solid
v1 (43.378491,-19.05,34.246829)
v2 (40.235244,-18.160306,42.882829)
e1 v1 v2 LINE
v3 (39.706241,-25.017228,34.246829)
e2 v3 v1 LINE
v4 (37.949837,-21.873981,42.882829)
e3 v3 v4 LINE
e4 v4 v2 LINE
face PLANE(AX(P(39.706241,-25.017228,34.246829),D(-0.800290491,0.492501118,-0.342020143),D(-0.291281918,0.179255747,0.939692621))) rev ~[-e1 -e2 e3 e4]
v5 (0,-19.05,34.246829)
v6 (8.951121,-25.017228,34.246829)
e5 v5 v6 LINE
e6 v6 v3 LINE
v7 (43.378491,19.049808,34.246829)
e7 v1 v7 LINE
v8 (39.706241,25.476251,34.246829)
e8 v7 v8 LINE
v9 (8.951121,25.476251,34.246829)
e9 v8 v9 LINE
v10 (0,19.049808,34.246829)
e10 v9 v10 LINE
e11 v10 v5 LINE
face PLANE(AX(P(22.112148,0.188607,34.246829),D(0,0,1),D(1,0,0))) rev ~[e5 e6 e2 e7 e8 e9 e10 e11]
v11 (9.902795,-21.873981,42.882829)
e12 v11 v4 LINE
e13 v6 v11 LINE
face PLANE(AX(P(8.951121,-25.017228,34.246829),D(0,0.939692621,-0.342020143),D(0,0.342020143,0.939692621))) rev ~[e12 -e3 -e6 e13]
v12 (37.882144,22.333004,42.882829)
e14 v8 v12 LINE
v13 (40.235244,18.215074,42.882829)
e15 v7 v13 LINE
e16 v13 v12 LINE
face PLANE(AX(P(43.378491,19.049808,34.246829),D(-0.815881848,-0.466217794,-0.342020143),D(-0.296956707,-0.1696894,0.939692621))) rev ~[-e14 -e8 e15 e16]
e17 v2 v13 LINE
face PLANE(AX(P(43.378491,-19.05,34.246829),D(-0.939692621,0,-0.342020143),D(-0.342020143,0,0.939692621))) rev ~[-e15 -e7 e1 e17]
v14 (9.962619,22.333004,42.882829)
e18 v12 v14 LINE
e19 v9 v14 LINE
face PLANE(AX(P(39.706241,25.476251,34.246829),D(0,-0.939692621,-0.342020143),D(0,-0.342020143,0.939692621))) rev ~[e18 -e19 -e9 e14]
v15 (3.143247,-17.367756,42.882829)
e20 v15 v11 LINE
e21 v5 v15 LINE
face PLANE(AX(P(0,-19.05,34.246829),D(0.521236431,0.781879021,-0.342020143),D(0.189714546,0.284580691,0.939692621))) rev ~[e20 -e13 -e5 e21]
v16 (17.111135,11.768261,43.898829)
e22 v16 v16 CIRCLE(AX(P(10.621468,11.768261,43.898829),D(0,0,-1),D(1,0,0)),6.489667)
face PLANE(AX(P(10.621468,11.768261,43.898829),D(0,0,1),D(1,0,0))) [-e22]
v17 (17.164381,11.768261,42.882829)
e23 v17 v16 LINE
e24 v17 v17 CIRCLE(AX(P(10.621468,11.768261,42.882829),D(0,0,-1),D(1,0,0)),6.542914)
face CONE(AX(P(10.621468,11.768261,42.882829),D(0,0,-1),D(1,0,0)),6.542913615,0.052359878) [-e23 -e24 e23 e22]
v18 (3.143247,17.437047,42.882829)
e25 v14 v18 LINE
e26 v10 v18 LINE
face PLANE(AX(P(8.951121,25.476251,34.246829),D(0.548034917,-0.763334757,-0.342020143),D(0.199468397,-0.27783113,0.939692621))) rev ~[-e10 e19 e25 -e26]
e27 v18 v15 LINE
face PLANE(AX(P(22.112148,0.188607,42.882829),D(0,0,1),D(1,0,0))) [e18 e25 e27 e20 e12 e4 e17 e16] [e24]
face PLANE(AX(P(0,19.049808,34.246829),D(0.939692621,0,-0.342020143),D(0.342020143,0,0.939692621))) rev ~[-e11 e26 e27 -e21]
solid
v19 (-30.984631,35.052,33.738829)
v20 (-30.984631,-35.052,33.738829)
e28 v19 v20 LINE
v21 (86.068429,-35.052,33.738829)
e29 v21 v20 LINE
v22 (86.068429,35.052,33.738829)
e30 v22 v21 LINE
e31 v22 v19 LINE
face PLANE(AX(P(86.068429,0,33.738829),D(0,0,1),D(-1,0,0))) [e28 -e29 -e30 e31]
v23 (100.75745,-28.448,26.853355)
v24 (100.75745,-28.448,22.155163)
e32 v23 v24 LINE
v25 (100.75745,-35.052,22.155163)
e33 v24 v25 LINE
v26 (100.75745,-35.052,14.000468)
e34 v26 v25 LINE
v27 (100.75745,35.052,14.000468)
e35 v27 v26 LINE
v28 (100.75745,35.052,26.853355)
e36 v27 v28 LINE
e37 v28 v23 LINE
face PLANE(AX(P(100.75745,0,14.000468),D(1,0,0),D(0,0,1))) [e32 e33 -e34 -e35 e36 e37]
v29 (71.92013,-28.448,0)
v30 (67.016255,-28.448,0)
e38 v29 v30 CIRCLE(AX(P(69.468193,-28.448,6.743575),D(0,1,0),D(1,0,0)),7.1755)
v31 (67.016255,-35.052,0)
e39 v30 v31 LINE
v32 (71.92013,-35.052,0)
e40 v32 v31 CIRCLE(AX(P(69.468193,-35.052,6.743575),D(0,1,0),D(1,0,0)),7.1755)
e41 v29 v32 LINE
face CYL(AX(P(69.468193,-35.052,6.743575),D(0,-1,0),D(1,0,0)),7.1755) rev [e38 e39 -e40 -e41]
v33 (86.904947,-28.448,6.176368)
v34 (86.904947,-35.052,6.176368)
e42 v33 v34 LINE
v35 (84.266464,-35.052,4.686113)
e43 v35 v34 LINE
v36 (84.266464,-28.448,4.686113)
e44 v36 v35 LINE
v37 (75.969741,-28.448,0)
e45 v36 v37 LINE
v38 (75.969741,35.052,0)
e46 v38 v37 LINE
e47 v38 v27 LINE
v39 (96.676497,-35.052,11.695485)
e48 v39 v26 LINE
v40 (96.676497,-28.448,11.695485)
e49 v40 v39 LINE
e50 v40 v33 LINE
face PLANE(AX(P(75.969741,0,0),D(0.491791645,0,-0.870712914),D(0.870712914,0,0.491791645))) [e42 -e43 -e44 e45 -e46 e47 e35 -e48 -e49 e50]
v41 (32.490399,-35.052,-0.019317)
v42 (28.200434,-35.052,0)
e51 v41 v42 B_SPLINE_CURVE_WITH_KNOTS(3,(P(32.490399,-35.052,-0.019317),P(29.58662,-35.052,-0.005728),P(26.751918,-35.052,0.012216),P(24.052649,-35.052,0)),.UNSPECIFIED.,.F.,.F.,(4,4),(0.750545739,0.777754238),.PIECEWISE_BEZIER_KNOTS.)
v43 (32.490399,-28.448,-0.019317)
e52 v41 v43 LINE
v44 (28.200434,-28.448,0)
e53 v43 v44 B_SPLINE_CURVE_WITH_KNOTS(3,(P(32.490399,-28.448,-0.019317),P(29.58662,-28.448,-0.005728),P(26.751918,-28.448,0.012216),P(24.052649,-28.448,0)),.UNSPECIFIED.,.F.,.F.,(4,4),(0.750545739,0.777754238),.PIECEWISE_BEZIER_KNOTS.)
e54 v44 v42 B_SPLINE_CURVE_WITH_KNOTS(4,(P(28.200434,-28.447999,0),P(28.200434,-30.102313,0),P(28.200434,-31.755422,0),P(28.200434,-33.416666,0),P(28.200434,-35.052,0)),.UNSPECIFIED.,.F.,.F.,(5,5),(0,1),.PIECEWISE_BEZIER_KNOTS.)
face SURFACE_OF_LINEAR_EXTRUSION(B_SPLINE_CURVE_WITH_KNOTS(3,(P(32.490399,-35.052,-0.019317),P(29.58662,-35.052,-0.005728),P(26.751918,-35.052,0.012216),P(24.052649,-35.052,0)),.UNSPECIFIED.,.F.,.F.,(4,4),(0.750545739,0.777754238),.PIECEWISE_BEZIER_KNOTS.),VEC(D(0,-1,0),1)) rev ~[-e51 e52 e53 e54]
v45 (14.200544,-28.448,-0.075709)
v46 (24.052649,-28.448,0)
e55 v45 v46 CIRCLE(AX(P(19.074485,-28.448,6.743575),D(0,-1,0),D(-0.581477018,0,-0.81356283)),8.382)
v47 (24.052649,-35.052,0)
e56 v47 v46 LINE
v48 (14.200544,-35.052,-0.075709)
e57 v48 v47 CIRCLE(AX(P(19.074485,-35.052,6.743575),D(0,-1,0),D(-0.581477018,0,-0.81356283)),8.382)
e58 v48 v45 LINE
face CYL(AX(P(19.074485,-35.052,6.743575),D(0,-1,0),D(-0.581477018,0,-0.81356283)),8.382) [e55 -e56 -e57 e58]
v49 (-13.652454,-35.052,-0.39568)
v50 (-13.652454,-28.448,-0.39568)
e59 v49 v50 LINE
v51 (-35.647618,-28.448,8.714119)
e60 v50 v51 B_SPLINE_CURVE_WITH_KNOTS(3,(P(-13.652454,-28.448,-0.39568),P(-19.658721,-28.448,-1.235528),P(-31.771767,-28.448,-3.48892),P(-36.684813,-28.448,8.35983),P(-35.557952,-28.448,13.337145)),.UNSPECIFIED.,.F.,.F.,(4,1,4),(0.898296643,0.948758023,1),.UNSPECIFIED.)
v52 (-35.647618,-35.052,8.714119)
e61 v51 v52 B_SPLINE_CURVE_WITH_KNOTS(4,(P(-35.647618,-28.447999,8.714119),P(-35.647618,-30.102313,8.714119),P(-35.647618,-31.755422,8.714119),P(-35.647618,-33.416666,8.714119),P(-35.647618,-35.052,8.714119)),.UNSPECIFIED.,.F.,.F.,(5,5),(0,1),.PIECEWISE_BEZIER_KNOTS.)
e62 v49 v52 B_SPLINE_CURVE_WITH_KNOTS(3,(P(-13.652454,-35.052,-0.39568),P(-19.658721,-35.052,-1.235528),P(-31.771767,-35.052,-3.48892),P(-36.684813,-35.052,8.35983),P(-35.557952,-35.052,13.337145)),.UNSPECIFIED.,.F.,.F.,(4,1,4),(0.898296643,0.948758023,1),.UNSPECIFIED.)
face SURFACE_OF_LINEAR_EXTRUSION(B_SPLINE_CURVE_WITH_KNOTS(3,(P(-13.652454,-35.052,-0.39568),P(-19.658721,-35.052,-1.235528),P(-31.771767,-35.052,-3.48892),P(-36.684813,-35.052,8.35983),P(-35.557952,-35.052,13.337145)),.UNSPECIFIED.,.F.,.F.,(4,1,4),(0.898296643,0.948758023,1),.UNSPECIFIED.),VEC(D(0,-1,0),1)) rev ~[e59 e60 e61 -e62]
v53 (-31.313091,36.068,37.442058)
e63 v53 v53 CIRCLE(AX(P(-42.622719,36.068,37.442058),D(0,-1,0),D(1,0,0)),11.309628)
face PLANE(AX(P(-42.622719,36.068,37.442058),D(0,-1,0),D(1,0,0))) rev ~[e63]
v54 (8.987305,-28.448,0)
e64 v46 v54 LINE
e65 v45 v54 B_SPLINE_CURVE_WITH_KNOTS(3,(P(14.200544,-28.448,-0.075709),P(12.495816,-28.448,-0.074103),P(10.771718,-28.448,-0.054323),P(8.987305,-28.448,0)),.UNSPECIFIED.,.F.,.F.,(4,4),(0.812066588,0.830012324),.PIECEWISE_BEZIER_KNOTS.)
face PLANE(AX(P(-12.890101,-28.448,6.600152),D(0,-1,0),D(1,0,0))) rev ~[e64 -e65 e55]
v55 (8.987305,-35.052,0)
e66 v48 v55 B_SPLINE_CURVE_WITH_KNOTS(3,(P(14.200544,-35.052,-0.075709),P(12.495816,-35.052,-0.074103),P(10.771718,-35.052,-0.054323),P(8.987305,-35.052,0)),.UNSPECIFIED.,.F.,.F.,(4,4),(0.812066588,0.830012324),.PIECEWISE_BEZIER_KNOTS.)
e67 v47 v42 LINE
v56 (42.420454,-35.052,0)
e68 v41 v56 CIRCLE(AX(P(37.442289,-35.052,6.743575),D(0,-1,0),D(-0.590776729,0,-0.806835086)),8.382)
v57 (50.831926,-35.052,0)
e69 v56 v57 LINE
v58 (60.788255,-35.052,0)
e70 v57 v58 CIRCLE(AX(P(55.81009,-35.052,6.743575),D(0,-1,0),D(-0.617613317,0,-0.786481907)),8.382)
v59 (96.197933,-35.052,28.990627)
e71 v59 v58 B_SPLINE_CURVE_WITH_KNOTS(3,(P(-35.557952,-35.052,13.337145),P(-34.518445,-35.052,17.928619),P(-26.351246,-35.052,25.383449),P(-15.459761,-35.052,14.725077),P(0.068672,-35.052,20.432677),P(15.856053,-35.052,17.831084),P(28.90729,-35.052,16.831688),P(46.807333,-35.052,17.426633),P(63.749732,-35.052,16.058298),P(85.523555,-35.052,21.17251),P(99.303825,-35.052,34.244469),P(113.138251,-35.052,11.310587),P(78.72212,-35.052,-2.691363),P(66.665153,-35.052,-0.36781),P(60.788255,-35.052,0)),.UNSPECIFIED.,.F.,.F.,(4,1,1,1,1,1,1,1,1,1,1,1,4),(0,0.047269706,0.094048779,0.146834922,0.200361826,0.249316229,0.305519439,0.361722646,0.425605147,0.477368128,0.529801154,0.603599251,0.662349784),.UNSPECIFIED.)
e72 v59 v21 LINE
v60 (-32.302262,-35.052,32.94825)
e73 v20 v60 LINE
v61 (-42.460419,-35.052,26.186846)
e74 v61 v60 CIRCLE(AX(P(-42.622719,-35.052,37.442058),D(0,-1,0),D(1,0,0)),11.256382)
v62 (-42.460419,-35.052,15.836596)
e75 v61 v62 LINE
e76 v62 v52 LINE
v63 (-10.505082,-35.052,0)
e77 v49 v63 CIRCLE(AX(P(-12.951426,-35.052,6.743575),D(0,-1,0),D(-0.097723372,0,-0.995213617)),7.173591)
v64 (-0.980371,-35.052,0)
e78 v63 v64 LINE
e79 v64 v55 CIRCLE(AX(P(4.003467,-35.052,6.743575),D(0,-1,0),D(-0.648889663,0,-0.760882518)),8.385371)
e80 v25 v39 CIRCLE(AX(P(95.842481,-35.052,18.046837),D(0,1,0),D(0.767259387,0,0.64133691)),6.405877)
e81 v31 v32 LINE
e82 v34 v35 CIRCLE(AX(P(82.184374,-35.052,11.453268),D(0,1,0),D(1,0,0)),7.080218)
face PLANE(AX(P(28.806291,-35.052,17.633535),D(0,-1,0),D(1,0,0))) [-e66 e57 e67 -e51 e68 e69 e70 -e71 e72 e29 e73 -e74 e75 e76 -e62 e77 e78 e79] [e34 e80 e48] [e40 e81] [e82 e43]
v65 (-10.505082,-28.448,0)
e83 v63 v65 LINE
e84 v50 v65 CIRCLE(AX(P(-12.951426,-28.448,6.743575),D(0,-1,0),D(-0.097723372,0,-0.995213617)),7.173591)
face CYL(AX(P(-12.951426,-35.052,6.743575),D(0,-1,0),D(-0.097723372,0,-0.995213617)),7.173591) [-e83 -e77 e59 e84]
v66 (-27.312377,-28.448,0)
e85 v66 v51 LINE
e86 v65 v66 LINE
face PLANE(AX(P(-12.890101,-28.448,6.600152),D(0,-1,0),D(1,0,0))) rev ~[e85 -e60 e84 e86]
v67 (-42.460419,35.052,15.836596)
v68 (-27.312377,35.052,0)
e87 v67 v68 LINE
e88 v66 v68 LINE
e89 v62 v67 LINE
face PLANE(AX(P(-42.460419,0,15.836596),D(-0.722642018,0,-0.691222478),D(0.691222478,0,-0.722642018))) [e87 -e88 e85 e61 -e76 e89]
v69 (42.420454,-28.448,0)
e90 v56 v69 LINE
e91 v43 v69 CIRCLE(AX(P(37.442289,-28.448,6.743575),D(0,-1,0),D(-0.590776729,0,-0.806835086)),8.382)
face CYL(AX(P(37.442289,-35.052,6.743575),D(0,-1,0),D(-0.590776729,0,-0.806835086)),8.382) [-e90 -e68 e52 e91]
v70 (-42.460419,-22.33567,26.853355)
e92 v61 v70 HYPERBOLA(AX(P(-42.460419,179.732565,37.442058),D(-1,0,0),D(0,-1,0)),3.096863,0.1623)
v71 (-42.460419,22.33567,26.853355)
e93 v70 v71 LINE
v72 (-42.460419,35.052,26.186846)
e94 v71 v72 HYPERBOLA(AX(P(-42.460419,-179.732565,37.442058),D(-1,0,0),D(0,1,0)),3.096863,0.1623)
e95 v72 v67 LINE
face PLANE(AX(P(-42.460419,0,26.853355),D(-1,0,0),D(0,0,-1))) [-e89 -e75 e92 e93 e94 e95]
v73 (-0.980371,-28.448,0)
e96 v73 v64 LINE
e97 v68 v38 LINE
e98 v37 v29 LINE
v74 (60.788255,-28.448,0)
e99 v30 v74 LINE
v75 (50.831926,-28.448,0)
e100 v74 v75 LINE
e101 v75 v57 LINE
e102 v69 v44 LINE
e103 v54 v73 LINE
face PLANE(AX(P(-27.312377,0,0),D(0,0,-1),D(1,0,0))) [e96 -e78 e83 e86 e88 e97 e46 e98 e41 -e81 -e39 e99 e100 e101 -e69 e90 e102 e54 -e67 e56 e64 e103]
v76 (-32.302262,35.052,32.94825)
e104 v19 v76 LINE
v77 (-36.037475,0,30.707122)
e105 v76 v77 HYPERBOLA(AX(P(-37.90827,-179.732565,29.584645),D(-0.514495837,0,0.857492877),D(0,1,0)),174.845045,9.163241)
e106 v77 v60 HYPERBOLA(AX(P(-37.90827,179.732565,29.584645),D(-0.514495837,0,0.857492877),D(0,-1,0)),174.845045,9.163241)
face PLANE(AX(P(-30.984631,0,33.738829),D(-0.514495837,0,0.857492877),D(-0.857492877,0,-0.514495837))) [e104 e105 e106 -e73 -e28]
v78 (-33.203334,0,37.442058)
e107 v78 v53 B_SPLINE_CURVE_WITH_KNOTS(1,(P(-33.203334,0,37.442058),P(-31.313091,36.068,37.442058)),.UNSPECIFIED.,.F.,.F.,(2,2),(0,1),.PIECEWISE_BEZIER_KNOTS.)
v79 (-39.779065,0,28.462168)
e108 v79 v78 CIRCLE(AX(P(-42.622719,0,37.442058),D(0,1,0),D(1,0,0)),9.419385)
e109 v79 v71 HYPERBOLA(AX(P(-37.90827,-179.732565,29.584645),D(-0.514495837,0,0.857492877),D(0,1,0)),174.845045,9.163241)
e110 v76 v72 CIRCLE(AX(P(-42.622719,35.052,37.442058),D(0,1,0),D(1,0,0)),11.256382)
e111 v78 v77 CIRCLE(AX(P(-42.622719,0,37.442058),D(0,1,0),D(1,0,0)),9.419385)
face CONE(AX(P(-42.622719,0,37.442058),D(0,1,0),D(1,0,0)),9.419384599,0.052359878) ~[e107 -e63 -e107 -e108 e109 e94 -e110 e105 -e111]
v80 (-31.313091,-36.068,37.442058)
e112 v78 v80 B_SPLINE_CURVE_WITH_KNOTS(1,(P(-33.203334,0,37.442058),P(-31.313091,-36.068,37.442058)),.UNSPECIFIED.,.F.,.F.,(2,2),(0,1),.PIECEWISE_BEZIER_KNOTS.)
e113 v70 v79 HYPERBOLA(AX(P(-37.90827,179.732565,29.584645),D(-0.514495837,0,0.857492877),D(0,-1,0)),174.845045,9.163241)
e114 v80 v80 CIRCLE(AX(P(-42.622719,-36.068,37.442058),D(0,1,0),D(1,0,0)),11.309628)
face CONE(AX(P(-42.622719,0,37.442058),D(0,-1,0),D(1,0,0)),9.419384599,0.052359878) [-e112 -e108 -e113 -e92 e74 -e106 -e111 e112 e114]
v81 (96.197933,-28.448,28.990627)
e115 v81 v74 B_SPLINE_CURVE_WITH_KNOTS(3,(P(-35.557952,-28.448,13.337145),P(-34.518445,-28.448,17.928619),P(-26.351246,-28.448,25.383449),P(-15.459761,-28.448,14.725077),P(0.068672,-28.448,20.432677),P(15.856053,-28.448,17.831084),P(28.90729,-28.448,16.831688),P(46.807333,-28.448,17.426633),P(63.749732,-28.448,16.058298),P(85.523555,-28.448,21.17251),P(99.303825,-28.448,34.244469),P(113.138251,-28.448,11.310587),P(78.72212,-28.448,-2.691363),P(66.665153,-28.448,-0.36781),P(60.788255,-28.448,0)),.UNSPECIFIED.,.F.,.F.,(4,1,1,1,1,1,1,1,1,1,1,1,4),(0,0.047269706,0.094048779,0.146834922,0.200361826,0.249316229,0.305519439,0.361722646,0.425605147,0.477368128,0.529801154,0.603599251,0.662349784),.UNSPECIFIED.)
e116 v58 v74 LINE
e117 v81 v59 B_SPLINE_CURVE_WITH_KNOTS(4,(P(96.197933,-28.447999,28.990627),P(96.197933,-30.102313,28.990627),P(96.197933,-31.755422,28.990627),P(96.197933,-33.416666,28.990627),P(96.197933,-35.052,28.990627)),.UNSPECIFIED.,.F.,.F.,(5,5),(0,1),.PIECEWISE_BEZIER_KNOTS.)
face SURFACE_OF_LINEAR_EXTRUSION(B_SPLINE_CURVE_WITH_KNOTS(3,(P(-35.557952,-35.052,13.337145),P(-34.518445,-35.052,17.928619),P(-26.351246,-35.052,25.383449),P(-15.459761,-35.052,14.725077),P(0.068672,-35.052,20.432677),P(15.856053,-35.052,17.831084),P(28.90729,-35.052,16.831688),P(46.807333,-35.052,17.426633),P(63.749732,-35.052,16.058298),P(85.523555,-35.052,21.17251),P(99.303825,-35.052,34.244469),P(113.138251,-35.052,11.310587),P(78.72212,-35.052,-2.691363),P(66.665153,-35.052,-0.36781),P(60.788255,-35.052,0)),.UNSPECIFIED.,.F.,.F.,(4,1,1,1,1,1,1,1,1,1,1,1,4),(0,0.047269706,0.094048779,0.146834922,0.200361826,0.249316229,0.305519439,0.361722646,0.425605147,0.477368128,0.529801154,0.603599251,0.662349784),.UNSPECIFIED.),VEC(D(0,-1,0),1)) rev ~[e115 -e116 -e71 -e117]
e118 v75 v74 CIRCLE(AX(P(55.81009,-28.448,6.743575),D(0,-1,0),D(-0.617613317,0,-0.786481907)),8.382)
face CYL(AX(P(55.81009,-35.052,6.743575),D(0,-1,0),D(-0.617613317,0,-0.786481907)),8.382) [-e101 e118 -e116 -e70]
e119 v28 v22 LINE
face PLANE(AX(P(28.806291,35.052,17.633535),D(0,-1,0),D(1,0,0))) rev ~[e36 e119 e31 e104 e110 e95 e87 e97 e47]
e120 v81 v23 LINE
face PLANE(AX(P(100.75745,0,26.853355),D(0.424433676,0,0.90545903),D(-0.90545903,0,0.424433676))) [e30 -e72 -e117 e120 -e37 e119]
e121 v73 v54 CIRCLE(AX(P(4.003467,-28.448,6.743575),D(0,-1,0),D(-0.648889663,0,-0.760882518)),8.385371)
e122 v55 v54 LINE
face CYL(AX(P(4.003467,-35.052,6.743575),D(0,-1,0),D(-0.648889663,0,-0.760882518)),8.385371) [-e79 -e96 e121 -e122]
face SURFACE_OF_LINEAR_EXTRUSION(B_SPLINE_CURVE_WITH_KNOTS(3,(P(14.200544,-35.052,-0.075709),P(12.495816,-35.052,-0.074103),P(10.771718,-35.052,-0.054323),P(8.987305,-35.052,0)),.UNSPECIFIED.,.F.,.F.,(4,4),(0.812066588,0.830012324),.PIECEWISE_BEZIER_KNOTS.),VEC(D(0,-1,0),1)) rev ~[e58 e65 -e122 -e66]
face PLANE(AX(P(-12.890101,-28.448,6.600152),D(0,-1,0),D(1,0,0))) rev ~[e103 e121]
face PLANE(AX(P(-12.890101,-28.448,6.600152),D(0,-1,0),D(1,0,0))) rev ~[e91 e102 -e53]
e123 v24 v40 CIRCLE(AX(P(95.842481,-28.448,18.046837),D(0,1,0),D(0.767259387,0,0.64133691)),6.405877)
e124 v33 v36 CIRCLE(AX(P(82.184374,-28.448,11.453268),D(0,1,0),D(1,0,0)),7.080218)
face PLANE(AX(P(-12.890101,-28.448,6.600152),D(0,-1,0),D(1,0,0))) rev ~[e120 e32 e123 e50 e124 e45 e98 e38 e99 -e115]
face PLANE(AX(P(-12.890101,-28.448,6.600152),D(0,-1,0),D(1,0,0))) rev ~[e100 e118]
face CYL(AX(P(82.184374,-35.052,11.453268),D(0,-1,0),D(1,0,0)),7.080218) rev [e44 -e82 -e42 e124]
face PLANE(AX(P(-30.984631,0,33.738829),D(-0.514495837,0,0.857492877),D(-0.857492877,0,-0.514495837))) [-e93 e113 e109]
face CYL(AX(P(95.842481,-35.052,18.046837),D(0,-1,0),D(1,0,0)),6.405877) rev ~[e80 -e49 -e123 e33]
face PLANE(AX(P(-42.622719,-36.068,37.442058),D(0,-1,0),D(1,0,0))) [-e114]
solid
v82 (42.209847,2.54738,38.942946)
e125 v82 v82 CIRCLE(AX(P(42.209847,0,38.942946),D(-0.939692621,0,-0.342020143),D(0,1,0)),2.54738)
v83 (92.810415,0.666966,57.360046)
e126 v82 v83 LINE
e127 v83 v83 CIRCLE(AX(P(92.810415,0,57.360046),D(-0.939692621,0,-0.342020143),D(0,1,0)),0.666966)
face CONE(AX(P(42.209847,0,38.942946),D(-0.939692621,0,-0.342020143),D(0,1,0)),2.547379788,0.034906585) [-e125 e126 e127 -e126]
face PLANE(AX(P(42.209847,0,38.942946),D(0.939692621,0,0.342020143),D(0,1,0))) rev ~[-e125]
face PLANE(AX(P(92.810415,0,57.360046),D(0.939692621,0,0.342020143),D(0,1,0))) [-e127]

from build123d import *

# Parameters (mm, degrees)
F1_DEPTH  = 35.052
F4_DEPTH  = 8.636
F4_TAPER  = 20
F6_R      = 2.5473797884
F7_DEPTH  = 53.848
F7_TAPER  = 2
F8_R      = 9.4193845987
F9_DEPTH  = 36.068
F9_TAPER  = -3
F11_R     = 6.5429136155
F12_DEPTH = 1.016
F12_TAPER = 3
F14_R     = 6.4058769263
F15_DEPTH = 6.604


with BuildPart() as f1:
    # F0 (on Front) → F1 (new body, symmetric)
    with BuildSketch(Plane.XZ):
        Polygon((-27.3123774678, 0), (0, 0), (75.9697407484, 0), (100.7574498653, 14.0004679561), (100.7574498653, 26.8533546478), (86.0684290528, 33.7388291955), (-30.9846308082, 33.7388291955), (-42.4604192376, 26.8533546478), (-42.4604192376, 15.836596489), align=None)
    extrude(amount=F1_DEPTH, both=True)

    # F8 (on Front) → F9 (join, symmetric)
    with BuildSketch(Plane.XZ):
        with Locations((-42.62271896, 37.4420583248)):
            Circle(F8_R)
    extrude(amount=F9_DEPTH, both=True, taper=F9_TAPER)

    # F14 (on offset) → F15 (join)
    with BuildSketch(Plane.XZ.offset(35.052)):
        with BuildLine():
            ThreePointArc((-18.2914277318, 11.5336464741), (-18.238567493, 11.0237022138), (-18.2209195306, 10.5113293976))
            ThreePointArc((-18.2209195306, 10.5113293976), (-18.690216693, 7.9095667226), (-20.0389570113, 5.6357355069))
            ThreePointArc((-20.0389570113, 5.6357355069), (-17.8768605229, 1.5281653135), (-13.6524536622, -0.3956800012))
            add(Edge.make_bspline(
                [(-10.5050824736, 0), (-11.5477199799, -0.1099032554), (-12.6000289403, -0.2485209166), (-13.6524536622, -0.3956800012)],
                knots=[0.8894547449, 0.8894547449, 0.8894547449, 0.8894547449, 0.898296643, 0.898296643, 0.898296643, 0.898296643], degree=3))
            ThreePointArc((-10.5050824736, 0), (-7.0773531131, 2.6258490959), (-5.7778356714, 6.7435749806))
            ThreePointArc((-5.7778356714, 6.7435749806), (-10.3869168212, 13.4431042769), (-18.2914277318, 11.5336464741))
        make_face()
        with BuildLine():
            ThreePointArc((-20.0389570113, 5.6357355069), (-32.8074565022, 12.6268435661), (-18.2914277318, 11.5336464741))
            ThreePointArc((-18.2914277318, 11.5336464741), (-10.3869168212, 13.4431042769), (-5.7778356714, 6.7435749806))
            ThreePointArc((-5.7778356714, 6.7435749806), (-7.0773531131, 2.6258490959), (-10.5050824736, 0))
            add(Edge.make_bspline(
                [(-1.4377133298, 0.3632930094), (-4.360674288, 0.4004144231), (-7.3897049606, 0.3283884651), (-10.5050824736, 0)],
                knots=[0.8630353512, 0.8630353512, 0.8630353512, 0.8630353512, 0.8894547449, 0.8894547449, 0.8894547449, 0.8894547449], degree=3))
            ThreePointArc((-1.4377133298, 0.3632930094), (-1.1320375241, 13.372378396), (11.5408509223, 10.4181206688))
            ThreePointArc((11.5408509223, 10.4181206688), (20.9600888035, 14.9107300047), (27.4564847059, 6.7435749806))
            ThreePointArc((27.4564847059, 6.7435749806), (26.5572949313, 2.966608588), (24.0526490745, 0))
            add(Edge.make_bspline(
                [(32.4903987489, -0.0193167116), (29.5866199223, -0.0057281236), (26.7519183568, 0.012216448), (24.0526490745, 0)],
                knots=[0.7505457387, 0.7505457387, 0.7505457387, 0.7505457387, 0.7777542378, 0.7777542378, 0.7777542378, 0.7777542378], degree=3))
            ThreePointArc((32.4903987489, -0.0193167116), (33.6507739321, 14.2190238146), (45.8242892928, 6.7435749806))
            ThreePointArc((45.8242892928, 6.7435749806), (44.9250995182, 2.966608588), (42.4204536614, 0))
            add(Edge.make_bspline(
                [(50.6332553293, 0.1512836344), (47.927415051, 0.1101522639), (45.1762033046, 0.036614238), (42.4204536614, 0)],
                knots=[0.6948509829, 0.6948509829, 0.6948509829, 0.6948509829, 0.720052008, 0.720052008, 0.720052008, 0.720052008], degree=3))
            ThreePointArc((50.6332553293, 0.1512836344), (50.5277699262, 13.2516481983), (63.32628389, 10.4536633528))
            ThreePointArc((63.32628389, 10.4536633528), (69.0279887166, 13.9055593882), (75.1095131316, 11.1779074751))
            ThreePointArc((75.1095131316, 11.1779074751), (82.0466679625, 18.5321466628), (89.2645921606, 11.4532681182))
            ThreePointArc((89.2645921606, 11.4532681182), (84.513834766, 4.7672305336), (76.6369867203, 7.0537255085))
            ThreePointArc((76.6369867203, 7.0537255085), (76.6420160513, 6.8986864896), (76.6436927562, 6.7435749806))
            ThreePointArc((76.6436927562, 6.7435749806), (71.3938787613, -0.1686991502), (63.32628389, 3.0334866085))
            ThreePointArc((63.32628389, 3.0334866085), (62.2387569182, 1.3648978533), (60.788254523, 0))
            add(Edge.make_bspline(
                [(-35.5579517782, 13.3371446282), (-34.5184446926, 17.9286186225), (-26.3512458362, 25.383448883), (-15.4597608895, 14.7250766477), (0.0686718679, 20.4326772039), (15.8560525983, 17.8310843141), (28.9072902188, 16.8316877811), (46.8073326751, 17.4266330572), (63.7497315728, 16.0582979772), (85.5235545067, 21.172510386), (99.3038248874, 34.2444686992), (113.1382509082, 11.3105872038), (78.7221199692, -2.6913634642), (66.6651528526, -0.3678101121), (60.788254523, 0)],
                knots=[0, 0, 0, 0, 0.0472697059, 0.0940487795, 0.1468349219, 0.2003618261, 0.2493162293, 0.3055194392, 0.3617226461, 0.4256051466, 0.4773681285, 0.5298011539, 0.6035992514, 0.6623497839, 0.6623497839, 0.6623497839, 0.6623497839], degree=3))
            add(Edge.make_bspline(
                [(-13.6524536622, -0.3956800012), (-19.6587209768, -1.2355280026), (-31.7717668805, -3.4889197494), (-36.6848129863, 8.3598298949), (-35.5579517782, 13.3371446282)],
                knots=[0.898296643, 0.898296643, 0.898296643, 0.898296643, 0.9487580232, 1, 1, 1, 1], degree=3))
            ThreePointArc((-13.6524536622, -0.3956800012), (-17.8768605229, 1.5281653135), (-20.0389570113, 5.6357355069))
        make_face()
        with Locations((95.8424806595, 18.0468373001)):
            Circle(F14_R, mode=Mode.SUBTRACT)
        with BuildLine():
            add(Edge.make_bspline(
                [(-10.5050824736, 0), (-11.5477199799, -0.1099032554), (-12.6000289403, -0.2485209166), (-13.6524536622, -0.3956800012)],
                knots=[0.8894547449, 0.8894547449, 0.8894547449, 0.8894547449, 0.898296643, 0.898296643, 0.898296643, 0.898296643], degree=3))
            ThreePointArc((-13.6524536622, -0.3956800012), (-12.0566229362, -0.3739897919), (-10.5050824736, 0))
        make_face()
        with BuildLine():
            add(Edge.make_bspline(
                [(8.9873047473, 0), (5.7036984444, 0.0999626727), (2.2158534233, 0.3168929498), (-1.4377133298, 0.3632930094)],
                knots=[0.8300123242, 0.8300123242, 0.8300123242, 0.8300123242, 0.8630353512, 0.8630353512, 0.8630353512, 0.8630353512], degree=3))
            ThreePointArc((-1.4377133298, 0.3632930094), (3.7114293188, -1.6367087735), (8.9873047473, 0))
        make_face()
        with BuildLine():
            ThreePointArc((11.5408509223, 10.4181206688), (-1.1320375241, 13.372378396), (-1.4377133298, 0.3632930094))
            add(Edge.make_bspline(
                [(8.9873047473, 0), (5.7036984444, 0.0999626727), (2.2158534233, 0.3168929498), (-1.4377133298, 0.3632930094)],
                knots=[0.8300123242, 0.8300123242, 0.8300123242, 0.8300123242, 0.8630353512, 0.8630353512, 0.8630353512, 0.8630353512], degree=3))
            ThreePointArc((8.9873047473, 0), (10.4493946476, 1.3803241862), (11.5408509223, 3.0690292925))
            ThreePointArc((11.5408509223, 3.0690292925), (10.6924847059, 6.7435749806), (11.5408509223, 10.4181206688))
        make_face()
        with BuildLine():
            add(Edge.make_bspline(
                [(60.788254523, 0), (57.5371139135, 0.2034750858), (54.1229170875, 0.2043298441), (50.6332553293, 0.1512836344)],
                knots=[0.6623497839, 0.6623497839, 0.6623497839, 0.6623497839, 0.6948509829, 0.6948509829, 0.6948509829, 0.6948509829], degree=3))
            ThreePointArc((60.788254523, 0), (62.2387569182, 1.3648978533), (63.32628389, 3.0334866085))
            ThreePointArc((63.32628389, 3.0334866085), (62.2926927562, 6.7435749806), (63.32628389, 10.4536633528))
            ThreePointArc((63.32628389, 10.4536633528), (50.5277699262, 13.2516481983), (50.6332553293, 0.1512836344))
        make_face()
        with BuildLine():
            ThreePointArc((50.6332553293, 0.1512836344), (55.6852335483, -1.6374950482), (60.788254523, 0))
            add(Edge.make_bspline(
                [(60.788254523, 0), (57.5371139135, 0.2034750858), (54.1229170875, 0.2043298441), (50.6332553293, 0.1512836344)],
                knots=[0.6623497839, 0.6623497839, 0.6623497839, 0.6623497839, 0.6948509829, 0.6948509829, 0.6948509829, 0.6948509829], degree=3))
        make_face()
        with BuildLine():
            ThreePointArc((27.4564847059, 6.7435749806), (20.9600888035, 14.9107300047), (11.5408509223, 10.4181206688))
            ThreePointArc((11.5408509223, 10.4181206688), (12.1740912442, 8.6291364129), (12.3888377414, 6.7435749806))
            ThreePointArc((12.3888377414, 6.7435749806), (12.1740912442, 4.8580135484), (11.5408509223, 3.0690292925))
            ThreePointArc((11.5408509223, 3.0690292925), (12.6745379692, 1.3307563279), (14.2005443452, -0.0757086592))
            add(Edge.make_bspline(
                [(24.0526490745, 0), (20.6486292111, -0.015406033), (17.4599935999, -0.0787785369), (14.2005443452, -0.0757086592)],
                knots=[0.7777542378, 0.7777542378, 0.7777542378, 0.7777542378, 0.8120665875, 0.8120665875, 0.8120665875, 0.8120665875], degree=3))
            ThreePointArc((24.0526490745, 0), (26.5572949313, 2.966608588), (27.4564847059, 6.7435749806))
        make_face()
        with BuildLine():
            ThreePointArc((11.5408509223, 3.0690292925), (10.4493946476, 1.3803241862), (8.9873047473, 0))
            add(Edge.make_bspline(
                [(14.2005443452, -0.0757086592), (12.495816486, -0.0741030793), (10.7717182259, -0.0543228158), (8.9873047473, 0)],
                knots=[0.8120665875, 0.8120665875, 0.8120665875, 0.8120665875, 0.8300123242, 0.8300123242, 0.8300123242, 0.8300123242], degree=3))
            ThreePointArc((14.2005443452, -0.0757086592), (12.6745379692, 1.3307563279), (11.5408509223, 3.0690292925))
        make_face()
        with BuildLine():
            add(Edge.make_bspline(
                [(24.0526490745, 0), (20.6486292111, -0.015406033), (17.4599935999, -0.0787785369), (14.2005443452, -0.0757086592)],
                knots=[0.7777542378, 0.7777542378, 0.7777542378, 0.7777542378, 0.8120665875, 0.8120665875, 0.8120665875, 0.8120665875], degree=3))
            ThreePointArc((14.2005443452, -0.0757086592), (19.1388944197, -1.6381775443), (24.0526490745, 0))
        make_face()
        with BuildLine():
            add(Edge.make_bspline(
                [(42.4204536614, 0), (39.0859429569, -0.0443039407), (35.744788104, -0.0345460244), (32.4903987489, -0.0193167116)],
                knots=[0.720052008, 0.720052008, 0.720052008, 0.720052008, 0.7505457387, 0.7505457387, 0.7505457387, 0.7505457387], degree=3))
            ThreePointArc((42.4204536614, 0), (44.9250995182, 2.966608588), (45.8242892928, 6.7435749806))
            ThreePointArc((45.8242892928, 6.7435749806), (33.6507739321, 14.2190238146), (32.4903987489, -0.0193167116))
        make_face()
        with BuildLine():
            ThreePointArc((32.4903987489, -0.0193167116), (37.4585945773, -1.6384091602), (42.4204536614, 0))
            add(Edge.make_bspline(
                [(42.4204536614, 0), (39.0859429569, -0.0443039407), (35.744788104, -0.0345460244), (32.4903987489, -0.0193167116)],
                knots=[0.720052008, 0.720052008, 0.720052008, 0.720052008, 0.7505457387, 0.7505457387, 0.7505457387, 0.7505457387], degree=3))
        make_face()
    extrude(amount=-F15_DEPTH)


with BuildPart() as f4:
    # F3 (on offset) → F4 (new body)
    with BuildSketch(Plane.XY.offset(34.2468291955)):
        Polygon((0, 19.049808383), (0, 0), (0, -19.05), (8.9511210099, -25.0172279775), (39.7062413394, -25.0172279775), (43.3784909546, -19.05), (43.3784909546, 19.049808383), (39.7062413394, 25.4762507975), (8.9511210099, 25.4762507975), align=None)
    extrude(amount=F4_DEPTH, taper=F4_TAPER)

    # F11 (on offset) → F12 (join)
    with BuildSketch(Plane.XY.offset(42.8828291955)):
        with Locations((10.6214676052, 11.7682609707)):
            Circle(F11_R)
    extrude(amount=F12_DEPTH, taper=F12_TAPER)


with BuildPart() as f7:
    # F6 (on offset) → F7 (new body)
    with BuildSketch(Plane(origin=(49.788254041, 0, 18.121442487), x_dir=(0, 1, 0), z_dir=(0.9396926208, 0, 0.3420201433))):
        with Locations((0, 22.1577808261)):
            Circle(F6_R)
    extrude(amount=F7_DEPTH, taper=F7_TAPER)


solid = Compound([f1.part, f4.part, f7.part])
